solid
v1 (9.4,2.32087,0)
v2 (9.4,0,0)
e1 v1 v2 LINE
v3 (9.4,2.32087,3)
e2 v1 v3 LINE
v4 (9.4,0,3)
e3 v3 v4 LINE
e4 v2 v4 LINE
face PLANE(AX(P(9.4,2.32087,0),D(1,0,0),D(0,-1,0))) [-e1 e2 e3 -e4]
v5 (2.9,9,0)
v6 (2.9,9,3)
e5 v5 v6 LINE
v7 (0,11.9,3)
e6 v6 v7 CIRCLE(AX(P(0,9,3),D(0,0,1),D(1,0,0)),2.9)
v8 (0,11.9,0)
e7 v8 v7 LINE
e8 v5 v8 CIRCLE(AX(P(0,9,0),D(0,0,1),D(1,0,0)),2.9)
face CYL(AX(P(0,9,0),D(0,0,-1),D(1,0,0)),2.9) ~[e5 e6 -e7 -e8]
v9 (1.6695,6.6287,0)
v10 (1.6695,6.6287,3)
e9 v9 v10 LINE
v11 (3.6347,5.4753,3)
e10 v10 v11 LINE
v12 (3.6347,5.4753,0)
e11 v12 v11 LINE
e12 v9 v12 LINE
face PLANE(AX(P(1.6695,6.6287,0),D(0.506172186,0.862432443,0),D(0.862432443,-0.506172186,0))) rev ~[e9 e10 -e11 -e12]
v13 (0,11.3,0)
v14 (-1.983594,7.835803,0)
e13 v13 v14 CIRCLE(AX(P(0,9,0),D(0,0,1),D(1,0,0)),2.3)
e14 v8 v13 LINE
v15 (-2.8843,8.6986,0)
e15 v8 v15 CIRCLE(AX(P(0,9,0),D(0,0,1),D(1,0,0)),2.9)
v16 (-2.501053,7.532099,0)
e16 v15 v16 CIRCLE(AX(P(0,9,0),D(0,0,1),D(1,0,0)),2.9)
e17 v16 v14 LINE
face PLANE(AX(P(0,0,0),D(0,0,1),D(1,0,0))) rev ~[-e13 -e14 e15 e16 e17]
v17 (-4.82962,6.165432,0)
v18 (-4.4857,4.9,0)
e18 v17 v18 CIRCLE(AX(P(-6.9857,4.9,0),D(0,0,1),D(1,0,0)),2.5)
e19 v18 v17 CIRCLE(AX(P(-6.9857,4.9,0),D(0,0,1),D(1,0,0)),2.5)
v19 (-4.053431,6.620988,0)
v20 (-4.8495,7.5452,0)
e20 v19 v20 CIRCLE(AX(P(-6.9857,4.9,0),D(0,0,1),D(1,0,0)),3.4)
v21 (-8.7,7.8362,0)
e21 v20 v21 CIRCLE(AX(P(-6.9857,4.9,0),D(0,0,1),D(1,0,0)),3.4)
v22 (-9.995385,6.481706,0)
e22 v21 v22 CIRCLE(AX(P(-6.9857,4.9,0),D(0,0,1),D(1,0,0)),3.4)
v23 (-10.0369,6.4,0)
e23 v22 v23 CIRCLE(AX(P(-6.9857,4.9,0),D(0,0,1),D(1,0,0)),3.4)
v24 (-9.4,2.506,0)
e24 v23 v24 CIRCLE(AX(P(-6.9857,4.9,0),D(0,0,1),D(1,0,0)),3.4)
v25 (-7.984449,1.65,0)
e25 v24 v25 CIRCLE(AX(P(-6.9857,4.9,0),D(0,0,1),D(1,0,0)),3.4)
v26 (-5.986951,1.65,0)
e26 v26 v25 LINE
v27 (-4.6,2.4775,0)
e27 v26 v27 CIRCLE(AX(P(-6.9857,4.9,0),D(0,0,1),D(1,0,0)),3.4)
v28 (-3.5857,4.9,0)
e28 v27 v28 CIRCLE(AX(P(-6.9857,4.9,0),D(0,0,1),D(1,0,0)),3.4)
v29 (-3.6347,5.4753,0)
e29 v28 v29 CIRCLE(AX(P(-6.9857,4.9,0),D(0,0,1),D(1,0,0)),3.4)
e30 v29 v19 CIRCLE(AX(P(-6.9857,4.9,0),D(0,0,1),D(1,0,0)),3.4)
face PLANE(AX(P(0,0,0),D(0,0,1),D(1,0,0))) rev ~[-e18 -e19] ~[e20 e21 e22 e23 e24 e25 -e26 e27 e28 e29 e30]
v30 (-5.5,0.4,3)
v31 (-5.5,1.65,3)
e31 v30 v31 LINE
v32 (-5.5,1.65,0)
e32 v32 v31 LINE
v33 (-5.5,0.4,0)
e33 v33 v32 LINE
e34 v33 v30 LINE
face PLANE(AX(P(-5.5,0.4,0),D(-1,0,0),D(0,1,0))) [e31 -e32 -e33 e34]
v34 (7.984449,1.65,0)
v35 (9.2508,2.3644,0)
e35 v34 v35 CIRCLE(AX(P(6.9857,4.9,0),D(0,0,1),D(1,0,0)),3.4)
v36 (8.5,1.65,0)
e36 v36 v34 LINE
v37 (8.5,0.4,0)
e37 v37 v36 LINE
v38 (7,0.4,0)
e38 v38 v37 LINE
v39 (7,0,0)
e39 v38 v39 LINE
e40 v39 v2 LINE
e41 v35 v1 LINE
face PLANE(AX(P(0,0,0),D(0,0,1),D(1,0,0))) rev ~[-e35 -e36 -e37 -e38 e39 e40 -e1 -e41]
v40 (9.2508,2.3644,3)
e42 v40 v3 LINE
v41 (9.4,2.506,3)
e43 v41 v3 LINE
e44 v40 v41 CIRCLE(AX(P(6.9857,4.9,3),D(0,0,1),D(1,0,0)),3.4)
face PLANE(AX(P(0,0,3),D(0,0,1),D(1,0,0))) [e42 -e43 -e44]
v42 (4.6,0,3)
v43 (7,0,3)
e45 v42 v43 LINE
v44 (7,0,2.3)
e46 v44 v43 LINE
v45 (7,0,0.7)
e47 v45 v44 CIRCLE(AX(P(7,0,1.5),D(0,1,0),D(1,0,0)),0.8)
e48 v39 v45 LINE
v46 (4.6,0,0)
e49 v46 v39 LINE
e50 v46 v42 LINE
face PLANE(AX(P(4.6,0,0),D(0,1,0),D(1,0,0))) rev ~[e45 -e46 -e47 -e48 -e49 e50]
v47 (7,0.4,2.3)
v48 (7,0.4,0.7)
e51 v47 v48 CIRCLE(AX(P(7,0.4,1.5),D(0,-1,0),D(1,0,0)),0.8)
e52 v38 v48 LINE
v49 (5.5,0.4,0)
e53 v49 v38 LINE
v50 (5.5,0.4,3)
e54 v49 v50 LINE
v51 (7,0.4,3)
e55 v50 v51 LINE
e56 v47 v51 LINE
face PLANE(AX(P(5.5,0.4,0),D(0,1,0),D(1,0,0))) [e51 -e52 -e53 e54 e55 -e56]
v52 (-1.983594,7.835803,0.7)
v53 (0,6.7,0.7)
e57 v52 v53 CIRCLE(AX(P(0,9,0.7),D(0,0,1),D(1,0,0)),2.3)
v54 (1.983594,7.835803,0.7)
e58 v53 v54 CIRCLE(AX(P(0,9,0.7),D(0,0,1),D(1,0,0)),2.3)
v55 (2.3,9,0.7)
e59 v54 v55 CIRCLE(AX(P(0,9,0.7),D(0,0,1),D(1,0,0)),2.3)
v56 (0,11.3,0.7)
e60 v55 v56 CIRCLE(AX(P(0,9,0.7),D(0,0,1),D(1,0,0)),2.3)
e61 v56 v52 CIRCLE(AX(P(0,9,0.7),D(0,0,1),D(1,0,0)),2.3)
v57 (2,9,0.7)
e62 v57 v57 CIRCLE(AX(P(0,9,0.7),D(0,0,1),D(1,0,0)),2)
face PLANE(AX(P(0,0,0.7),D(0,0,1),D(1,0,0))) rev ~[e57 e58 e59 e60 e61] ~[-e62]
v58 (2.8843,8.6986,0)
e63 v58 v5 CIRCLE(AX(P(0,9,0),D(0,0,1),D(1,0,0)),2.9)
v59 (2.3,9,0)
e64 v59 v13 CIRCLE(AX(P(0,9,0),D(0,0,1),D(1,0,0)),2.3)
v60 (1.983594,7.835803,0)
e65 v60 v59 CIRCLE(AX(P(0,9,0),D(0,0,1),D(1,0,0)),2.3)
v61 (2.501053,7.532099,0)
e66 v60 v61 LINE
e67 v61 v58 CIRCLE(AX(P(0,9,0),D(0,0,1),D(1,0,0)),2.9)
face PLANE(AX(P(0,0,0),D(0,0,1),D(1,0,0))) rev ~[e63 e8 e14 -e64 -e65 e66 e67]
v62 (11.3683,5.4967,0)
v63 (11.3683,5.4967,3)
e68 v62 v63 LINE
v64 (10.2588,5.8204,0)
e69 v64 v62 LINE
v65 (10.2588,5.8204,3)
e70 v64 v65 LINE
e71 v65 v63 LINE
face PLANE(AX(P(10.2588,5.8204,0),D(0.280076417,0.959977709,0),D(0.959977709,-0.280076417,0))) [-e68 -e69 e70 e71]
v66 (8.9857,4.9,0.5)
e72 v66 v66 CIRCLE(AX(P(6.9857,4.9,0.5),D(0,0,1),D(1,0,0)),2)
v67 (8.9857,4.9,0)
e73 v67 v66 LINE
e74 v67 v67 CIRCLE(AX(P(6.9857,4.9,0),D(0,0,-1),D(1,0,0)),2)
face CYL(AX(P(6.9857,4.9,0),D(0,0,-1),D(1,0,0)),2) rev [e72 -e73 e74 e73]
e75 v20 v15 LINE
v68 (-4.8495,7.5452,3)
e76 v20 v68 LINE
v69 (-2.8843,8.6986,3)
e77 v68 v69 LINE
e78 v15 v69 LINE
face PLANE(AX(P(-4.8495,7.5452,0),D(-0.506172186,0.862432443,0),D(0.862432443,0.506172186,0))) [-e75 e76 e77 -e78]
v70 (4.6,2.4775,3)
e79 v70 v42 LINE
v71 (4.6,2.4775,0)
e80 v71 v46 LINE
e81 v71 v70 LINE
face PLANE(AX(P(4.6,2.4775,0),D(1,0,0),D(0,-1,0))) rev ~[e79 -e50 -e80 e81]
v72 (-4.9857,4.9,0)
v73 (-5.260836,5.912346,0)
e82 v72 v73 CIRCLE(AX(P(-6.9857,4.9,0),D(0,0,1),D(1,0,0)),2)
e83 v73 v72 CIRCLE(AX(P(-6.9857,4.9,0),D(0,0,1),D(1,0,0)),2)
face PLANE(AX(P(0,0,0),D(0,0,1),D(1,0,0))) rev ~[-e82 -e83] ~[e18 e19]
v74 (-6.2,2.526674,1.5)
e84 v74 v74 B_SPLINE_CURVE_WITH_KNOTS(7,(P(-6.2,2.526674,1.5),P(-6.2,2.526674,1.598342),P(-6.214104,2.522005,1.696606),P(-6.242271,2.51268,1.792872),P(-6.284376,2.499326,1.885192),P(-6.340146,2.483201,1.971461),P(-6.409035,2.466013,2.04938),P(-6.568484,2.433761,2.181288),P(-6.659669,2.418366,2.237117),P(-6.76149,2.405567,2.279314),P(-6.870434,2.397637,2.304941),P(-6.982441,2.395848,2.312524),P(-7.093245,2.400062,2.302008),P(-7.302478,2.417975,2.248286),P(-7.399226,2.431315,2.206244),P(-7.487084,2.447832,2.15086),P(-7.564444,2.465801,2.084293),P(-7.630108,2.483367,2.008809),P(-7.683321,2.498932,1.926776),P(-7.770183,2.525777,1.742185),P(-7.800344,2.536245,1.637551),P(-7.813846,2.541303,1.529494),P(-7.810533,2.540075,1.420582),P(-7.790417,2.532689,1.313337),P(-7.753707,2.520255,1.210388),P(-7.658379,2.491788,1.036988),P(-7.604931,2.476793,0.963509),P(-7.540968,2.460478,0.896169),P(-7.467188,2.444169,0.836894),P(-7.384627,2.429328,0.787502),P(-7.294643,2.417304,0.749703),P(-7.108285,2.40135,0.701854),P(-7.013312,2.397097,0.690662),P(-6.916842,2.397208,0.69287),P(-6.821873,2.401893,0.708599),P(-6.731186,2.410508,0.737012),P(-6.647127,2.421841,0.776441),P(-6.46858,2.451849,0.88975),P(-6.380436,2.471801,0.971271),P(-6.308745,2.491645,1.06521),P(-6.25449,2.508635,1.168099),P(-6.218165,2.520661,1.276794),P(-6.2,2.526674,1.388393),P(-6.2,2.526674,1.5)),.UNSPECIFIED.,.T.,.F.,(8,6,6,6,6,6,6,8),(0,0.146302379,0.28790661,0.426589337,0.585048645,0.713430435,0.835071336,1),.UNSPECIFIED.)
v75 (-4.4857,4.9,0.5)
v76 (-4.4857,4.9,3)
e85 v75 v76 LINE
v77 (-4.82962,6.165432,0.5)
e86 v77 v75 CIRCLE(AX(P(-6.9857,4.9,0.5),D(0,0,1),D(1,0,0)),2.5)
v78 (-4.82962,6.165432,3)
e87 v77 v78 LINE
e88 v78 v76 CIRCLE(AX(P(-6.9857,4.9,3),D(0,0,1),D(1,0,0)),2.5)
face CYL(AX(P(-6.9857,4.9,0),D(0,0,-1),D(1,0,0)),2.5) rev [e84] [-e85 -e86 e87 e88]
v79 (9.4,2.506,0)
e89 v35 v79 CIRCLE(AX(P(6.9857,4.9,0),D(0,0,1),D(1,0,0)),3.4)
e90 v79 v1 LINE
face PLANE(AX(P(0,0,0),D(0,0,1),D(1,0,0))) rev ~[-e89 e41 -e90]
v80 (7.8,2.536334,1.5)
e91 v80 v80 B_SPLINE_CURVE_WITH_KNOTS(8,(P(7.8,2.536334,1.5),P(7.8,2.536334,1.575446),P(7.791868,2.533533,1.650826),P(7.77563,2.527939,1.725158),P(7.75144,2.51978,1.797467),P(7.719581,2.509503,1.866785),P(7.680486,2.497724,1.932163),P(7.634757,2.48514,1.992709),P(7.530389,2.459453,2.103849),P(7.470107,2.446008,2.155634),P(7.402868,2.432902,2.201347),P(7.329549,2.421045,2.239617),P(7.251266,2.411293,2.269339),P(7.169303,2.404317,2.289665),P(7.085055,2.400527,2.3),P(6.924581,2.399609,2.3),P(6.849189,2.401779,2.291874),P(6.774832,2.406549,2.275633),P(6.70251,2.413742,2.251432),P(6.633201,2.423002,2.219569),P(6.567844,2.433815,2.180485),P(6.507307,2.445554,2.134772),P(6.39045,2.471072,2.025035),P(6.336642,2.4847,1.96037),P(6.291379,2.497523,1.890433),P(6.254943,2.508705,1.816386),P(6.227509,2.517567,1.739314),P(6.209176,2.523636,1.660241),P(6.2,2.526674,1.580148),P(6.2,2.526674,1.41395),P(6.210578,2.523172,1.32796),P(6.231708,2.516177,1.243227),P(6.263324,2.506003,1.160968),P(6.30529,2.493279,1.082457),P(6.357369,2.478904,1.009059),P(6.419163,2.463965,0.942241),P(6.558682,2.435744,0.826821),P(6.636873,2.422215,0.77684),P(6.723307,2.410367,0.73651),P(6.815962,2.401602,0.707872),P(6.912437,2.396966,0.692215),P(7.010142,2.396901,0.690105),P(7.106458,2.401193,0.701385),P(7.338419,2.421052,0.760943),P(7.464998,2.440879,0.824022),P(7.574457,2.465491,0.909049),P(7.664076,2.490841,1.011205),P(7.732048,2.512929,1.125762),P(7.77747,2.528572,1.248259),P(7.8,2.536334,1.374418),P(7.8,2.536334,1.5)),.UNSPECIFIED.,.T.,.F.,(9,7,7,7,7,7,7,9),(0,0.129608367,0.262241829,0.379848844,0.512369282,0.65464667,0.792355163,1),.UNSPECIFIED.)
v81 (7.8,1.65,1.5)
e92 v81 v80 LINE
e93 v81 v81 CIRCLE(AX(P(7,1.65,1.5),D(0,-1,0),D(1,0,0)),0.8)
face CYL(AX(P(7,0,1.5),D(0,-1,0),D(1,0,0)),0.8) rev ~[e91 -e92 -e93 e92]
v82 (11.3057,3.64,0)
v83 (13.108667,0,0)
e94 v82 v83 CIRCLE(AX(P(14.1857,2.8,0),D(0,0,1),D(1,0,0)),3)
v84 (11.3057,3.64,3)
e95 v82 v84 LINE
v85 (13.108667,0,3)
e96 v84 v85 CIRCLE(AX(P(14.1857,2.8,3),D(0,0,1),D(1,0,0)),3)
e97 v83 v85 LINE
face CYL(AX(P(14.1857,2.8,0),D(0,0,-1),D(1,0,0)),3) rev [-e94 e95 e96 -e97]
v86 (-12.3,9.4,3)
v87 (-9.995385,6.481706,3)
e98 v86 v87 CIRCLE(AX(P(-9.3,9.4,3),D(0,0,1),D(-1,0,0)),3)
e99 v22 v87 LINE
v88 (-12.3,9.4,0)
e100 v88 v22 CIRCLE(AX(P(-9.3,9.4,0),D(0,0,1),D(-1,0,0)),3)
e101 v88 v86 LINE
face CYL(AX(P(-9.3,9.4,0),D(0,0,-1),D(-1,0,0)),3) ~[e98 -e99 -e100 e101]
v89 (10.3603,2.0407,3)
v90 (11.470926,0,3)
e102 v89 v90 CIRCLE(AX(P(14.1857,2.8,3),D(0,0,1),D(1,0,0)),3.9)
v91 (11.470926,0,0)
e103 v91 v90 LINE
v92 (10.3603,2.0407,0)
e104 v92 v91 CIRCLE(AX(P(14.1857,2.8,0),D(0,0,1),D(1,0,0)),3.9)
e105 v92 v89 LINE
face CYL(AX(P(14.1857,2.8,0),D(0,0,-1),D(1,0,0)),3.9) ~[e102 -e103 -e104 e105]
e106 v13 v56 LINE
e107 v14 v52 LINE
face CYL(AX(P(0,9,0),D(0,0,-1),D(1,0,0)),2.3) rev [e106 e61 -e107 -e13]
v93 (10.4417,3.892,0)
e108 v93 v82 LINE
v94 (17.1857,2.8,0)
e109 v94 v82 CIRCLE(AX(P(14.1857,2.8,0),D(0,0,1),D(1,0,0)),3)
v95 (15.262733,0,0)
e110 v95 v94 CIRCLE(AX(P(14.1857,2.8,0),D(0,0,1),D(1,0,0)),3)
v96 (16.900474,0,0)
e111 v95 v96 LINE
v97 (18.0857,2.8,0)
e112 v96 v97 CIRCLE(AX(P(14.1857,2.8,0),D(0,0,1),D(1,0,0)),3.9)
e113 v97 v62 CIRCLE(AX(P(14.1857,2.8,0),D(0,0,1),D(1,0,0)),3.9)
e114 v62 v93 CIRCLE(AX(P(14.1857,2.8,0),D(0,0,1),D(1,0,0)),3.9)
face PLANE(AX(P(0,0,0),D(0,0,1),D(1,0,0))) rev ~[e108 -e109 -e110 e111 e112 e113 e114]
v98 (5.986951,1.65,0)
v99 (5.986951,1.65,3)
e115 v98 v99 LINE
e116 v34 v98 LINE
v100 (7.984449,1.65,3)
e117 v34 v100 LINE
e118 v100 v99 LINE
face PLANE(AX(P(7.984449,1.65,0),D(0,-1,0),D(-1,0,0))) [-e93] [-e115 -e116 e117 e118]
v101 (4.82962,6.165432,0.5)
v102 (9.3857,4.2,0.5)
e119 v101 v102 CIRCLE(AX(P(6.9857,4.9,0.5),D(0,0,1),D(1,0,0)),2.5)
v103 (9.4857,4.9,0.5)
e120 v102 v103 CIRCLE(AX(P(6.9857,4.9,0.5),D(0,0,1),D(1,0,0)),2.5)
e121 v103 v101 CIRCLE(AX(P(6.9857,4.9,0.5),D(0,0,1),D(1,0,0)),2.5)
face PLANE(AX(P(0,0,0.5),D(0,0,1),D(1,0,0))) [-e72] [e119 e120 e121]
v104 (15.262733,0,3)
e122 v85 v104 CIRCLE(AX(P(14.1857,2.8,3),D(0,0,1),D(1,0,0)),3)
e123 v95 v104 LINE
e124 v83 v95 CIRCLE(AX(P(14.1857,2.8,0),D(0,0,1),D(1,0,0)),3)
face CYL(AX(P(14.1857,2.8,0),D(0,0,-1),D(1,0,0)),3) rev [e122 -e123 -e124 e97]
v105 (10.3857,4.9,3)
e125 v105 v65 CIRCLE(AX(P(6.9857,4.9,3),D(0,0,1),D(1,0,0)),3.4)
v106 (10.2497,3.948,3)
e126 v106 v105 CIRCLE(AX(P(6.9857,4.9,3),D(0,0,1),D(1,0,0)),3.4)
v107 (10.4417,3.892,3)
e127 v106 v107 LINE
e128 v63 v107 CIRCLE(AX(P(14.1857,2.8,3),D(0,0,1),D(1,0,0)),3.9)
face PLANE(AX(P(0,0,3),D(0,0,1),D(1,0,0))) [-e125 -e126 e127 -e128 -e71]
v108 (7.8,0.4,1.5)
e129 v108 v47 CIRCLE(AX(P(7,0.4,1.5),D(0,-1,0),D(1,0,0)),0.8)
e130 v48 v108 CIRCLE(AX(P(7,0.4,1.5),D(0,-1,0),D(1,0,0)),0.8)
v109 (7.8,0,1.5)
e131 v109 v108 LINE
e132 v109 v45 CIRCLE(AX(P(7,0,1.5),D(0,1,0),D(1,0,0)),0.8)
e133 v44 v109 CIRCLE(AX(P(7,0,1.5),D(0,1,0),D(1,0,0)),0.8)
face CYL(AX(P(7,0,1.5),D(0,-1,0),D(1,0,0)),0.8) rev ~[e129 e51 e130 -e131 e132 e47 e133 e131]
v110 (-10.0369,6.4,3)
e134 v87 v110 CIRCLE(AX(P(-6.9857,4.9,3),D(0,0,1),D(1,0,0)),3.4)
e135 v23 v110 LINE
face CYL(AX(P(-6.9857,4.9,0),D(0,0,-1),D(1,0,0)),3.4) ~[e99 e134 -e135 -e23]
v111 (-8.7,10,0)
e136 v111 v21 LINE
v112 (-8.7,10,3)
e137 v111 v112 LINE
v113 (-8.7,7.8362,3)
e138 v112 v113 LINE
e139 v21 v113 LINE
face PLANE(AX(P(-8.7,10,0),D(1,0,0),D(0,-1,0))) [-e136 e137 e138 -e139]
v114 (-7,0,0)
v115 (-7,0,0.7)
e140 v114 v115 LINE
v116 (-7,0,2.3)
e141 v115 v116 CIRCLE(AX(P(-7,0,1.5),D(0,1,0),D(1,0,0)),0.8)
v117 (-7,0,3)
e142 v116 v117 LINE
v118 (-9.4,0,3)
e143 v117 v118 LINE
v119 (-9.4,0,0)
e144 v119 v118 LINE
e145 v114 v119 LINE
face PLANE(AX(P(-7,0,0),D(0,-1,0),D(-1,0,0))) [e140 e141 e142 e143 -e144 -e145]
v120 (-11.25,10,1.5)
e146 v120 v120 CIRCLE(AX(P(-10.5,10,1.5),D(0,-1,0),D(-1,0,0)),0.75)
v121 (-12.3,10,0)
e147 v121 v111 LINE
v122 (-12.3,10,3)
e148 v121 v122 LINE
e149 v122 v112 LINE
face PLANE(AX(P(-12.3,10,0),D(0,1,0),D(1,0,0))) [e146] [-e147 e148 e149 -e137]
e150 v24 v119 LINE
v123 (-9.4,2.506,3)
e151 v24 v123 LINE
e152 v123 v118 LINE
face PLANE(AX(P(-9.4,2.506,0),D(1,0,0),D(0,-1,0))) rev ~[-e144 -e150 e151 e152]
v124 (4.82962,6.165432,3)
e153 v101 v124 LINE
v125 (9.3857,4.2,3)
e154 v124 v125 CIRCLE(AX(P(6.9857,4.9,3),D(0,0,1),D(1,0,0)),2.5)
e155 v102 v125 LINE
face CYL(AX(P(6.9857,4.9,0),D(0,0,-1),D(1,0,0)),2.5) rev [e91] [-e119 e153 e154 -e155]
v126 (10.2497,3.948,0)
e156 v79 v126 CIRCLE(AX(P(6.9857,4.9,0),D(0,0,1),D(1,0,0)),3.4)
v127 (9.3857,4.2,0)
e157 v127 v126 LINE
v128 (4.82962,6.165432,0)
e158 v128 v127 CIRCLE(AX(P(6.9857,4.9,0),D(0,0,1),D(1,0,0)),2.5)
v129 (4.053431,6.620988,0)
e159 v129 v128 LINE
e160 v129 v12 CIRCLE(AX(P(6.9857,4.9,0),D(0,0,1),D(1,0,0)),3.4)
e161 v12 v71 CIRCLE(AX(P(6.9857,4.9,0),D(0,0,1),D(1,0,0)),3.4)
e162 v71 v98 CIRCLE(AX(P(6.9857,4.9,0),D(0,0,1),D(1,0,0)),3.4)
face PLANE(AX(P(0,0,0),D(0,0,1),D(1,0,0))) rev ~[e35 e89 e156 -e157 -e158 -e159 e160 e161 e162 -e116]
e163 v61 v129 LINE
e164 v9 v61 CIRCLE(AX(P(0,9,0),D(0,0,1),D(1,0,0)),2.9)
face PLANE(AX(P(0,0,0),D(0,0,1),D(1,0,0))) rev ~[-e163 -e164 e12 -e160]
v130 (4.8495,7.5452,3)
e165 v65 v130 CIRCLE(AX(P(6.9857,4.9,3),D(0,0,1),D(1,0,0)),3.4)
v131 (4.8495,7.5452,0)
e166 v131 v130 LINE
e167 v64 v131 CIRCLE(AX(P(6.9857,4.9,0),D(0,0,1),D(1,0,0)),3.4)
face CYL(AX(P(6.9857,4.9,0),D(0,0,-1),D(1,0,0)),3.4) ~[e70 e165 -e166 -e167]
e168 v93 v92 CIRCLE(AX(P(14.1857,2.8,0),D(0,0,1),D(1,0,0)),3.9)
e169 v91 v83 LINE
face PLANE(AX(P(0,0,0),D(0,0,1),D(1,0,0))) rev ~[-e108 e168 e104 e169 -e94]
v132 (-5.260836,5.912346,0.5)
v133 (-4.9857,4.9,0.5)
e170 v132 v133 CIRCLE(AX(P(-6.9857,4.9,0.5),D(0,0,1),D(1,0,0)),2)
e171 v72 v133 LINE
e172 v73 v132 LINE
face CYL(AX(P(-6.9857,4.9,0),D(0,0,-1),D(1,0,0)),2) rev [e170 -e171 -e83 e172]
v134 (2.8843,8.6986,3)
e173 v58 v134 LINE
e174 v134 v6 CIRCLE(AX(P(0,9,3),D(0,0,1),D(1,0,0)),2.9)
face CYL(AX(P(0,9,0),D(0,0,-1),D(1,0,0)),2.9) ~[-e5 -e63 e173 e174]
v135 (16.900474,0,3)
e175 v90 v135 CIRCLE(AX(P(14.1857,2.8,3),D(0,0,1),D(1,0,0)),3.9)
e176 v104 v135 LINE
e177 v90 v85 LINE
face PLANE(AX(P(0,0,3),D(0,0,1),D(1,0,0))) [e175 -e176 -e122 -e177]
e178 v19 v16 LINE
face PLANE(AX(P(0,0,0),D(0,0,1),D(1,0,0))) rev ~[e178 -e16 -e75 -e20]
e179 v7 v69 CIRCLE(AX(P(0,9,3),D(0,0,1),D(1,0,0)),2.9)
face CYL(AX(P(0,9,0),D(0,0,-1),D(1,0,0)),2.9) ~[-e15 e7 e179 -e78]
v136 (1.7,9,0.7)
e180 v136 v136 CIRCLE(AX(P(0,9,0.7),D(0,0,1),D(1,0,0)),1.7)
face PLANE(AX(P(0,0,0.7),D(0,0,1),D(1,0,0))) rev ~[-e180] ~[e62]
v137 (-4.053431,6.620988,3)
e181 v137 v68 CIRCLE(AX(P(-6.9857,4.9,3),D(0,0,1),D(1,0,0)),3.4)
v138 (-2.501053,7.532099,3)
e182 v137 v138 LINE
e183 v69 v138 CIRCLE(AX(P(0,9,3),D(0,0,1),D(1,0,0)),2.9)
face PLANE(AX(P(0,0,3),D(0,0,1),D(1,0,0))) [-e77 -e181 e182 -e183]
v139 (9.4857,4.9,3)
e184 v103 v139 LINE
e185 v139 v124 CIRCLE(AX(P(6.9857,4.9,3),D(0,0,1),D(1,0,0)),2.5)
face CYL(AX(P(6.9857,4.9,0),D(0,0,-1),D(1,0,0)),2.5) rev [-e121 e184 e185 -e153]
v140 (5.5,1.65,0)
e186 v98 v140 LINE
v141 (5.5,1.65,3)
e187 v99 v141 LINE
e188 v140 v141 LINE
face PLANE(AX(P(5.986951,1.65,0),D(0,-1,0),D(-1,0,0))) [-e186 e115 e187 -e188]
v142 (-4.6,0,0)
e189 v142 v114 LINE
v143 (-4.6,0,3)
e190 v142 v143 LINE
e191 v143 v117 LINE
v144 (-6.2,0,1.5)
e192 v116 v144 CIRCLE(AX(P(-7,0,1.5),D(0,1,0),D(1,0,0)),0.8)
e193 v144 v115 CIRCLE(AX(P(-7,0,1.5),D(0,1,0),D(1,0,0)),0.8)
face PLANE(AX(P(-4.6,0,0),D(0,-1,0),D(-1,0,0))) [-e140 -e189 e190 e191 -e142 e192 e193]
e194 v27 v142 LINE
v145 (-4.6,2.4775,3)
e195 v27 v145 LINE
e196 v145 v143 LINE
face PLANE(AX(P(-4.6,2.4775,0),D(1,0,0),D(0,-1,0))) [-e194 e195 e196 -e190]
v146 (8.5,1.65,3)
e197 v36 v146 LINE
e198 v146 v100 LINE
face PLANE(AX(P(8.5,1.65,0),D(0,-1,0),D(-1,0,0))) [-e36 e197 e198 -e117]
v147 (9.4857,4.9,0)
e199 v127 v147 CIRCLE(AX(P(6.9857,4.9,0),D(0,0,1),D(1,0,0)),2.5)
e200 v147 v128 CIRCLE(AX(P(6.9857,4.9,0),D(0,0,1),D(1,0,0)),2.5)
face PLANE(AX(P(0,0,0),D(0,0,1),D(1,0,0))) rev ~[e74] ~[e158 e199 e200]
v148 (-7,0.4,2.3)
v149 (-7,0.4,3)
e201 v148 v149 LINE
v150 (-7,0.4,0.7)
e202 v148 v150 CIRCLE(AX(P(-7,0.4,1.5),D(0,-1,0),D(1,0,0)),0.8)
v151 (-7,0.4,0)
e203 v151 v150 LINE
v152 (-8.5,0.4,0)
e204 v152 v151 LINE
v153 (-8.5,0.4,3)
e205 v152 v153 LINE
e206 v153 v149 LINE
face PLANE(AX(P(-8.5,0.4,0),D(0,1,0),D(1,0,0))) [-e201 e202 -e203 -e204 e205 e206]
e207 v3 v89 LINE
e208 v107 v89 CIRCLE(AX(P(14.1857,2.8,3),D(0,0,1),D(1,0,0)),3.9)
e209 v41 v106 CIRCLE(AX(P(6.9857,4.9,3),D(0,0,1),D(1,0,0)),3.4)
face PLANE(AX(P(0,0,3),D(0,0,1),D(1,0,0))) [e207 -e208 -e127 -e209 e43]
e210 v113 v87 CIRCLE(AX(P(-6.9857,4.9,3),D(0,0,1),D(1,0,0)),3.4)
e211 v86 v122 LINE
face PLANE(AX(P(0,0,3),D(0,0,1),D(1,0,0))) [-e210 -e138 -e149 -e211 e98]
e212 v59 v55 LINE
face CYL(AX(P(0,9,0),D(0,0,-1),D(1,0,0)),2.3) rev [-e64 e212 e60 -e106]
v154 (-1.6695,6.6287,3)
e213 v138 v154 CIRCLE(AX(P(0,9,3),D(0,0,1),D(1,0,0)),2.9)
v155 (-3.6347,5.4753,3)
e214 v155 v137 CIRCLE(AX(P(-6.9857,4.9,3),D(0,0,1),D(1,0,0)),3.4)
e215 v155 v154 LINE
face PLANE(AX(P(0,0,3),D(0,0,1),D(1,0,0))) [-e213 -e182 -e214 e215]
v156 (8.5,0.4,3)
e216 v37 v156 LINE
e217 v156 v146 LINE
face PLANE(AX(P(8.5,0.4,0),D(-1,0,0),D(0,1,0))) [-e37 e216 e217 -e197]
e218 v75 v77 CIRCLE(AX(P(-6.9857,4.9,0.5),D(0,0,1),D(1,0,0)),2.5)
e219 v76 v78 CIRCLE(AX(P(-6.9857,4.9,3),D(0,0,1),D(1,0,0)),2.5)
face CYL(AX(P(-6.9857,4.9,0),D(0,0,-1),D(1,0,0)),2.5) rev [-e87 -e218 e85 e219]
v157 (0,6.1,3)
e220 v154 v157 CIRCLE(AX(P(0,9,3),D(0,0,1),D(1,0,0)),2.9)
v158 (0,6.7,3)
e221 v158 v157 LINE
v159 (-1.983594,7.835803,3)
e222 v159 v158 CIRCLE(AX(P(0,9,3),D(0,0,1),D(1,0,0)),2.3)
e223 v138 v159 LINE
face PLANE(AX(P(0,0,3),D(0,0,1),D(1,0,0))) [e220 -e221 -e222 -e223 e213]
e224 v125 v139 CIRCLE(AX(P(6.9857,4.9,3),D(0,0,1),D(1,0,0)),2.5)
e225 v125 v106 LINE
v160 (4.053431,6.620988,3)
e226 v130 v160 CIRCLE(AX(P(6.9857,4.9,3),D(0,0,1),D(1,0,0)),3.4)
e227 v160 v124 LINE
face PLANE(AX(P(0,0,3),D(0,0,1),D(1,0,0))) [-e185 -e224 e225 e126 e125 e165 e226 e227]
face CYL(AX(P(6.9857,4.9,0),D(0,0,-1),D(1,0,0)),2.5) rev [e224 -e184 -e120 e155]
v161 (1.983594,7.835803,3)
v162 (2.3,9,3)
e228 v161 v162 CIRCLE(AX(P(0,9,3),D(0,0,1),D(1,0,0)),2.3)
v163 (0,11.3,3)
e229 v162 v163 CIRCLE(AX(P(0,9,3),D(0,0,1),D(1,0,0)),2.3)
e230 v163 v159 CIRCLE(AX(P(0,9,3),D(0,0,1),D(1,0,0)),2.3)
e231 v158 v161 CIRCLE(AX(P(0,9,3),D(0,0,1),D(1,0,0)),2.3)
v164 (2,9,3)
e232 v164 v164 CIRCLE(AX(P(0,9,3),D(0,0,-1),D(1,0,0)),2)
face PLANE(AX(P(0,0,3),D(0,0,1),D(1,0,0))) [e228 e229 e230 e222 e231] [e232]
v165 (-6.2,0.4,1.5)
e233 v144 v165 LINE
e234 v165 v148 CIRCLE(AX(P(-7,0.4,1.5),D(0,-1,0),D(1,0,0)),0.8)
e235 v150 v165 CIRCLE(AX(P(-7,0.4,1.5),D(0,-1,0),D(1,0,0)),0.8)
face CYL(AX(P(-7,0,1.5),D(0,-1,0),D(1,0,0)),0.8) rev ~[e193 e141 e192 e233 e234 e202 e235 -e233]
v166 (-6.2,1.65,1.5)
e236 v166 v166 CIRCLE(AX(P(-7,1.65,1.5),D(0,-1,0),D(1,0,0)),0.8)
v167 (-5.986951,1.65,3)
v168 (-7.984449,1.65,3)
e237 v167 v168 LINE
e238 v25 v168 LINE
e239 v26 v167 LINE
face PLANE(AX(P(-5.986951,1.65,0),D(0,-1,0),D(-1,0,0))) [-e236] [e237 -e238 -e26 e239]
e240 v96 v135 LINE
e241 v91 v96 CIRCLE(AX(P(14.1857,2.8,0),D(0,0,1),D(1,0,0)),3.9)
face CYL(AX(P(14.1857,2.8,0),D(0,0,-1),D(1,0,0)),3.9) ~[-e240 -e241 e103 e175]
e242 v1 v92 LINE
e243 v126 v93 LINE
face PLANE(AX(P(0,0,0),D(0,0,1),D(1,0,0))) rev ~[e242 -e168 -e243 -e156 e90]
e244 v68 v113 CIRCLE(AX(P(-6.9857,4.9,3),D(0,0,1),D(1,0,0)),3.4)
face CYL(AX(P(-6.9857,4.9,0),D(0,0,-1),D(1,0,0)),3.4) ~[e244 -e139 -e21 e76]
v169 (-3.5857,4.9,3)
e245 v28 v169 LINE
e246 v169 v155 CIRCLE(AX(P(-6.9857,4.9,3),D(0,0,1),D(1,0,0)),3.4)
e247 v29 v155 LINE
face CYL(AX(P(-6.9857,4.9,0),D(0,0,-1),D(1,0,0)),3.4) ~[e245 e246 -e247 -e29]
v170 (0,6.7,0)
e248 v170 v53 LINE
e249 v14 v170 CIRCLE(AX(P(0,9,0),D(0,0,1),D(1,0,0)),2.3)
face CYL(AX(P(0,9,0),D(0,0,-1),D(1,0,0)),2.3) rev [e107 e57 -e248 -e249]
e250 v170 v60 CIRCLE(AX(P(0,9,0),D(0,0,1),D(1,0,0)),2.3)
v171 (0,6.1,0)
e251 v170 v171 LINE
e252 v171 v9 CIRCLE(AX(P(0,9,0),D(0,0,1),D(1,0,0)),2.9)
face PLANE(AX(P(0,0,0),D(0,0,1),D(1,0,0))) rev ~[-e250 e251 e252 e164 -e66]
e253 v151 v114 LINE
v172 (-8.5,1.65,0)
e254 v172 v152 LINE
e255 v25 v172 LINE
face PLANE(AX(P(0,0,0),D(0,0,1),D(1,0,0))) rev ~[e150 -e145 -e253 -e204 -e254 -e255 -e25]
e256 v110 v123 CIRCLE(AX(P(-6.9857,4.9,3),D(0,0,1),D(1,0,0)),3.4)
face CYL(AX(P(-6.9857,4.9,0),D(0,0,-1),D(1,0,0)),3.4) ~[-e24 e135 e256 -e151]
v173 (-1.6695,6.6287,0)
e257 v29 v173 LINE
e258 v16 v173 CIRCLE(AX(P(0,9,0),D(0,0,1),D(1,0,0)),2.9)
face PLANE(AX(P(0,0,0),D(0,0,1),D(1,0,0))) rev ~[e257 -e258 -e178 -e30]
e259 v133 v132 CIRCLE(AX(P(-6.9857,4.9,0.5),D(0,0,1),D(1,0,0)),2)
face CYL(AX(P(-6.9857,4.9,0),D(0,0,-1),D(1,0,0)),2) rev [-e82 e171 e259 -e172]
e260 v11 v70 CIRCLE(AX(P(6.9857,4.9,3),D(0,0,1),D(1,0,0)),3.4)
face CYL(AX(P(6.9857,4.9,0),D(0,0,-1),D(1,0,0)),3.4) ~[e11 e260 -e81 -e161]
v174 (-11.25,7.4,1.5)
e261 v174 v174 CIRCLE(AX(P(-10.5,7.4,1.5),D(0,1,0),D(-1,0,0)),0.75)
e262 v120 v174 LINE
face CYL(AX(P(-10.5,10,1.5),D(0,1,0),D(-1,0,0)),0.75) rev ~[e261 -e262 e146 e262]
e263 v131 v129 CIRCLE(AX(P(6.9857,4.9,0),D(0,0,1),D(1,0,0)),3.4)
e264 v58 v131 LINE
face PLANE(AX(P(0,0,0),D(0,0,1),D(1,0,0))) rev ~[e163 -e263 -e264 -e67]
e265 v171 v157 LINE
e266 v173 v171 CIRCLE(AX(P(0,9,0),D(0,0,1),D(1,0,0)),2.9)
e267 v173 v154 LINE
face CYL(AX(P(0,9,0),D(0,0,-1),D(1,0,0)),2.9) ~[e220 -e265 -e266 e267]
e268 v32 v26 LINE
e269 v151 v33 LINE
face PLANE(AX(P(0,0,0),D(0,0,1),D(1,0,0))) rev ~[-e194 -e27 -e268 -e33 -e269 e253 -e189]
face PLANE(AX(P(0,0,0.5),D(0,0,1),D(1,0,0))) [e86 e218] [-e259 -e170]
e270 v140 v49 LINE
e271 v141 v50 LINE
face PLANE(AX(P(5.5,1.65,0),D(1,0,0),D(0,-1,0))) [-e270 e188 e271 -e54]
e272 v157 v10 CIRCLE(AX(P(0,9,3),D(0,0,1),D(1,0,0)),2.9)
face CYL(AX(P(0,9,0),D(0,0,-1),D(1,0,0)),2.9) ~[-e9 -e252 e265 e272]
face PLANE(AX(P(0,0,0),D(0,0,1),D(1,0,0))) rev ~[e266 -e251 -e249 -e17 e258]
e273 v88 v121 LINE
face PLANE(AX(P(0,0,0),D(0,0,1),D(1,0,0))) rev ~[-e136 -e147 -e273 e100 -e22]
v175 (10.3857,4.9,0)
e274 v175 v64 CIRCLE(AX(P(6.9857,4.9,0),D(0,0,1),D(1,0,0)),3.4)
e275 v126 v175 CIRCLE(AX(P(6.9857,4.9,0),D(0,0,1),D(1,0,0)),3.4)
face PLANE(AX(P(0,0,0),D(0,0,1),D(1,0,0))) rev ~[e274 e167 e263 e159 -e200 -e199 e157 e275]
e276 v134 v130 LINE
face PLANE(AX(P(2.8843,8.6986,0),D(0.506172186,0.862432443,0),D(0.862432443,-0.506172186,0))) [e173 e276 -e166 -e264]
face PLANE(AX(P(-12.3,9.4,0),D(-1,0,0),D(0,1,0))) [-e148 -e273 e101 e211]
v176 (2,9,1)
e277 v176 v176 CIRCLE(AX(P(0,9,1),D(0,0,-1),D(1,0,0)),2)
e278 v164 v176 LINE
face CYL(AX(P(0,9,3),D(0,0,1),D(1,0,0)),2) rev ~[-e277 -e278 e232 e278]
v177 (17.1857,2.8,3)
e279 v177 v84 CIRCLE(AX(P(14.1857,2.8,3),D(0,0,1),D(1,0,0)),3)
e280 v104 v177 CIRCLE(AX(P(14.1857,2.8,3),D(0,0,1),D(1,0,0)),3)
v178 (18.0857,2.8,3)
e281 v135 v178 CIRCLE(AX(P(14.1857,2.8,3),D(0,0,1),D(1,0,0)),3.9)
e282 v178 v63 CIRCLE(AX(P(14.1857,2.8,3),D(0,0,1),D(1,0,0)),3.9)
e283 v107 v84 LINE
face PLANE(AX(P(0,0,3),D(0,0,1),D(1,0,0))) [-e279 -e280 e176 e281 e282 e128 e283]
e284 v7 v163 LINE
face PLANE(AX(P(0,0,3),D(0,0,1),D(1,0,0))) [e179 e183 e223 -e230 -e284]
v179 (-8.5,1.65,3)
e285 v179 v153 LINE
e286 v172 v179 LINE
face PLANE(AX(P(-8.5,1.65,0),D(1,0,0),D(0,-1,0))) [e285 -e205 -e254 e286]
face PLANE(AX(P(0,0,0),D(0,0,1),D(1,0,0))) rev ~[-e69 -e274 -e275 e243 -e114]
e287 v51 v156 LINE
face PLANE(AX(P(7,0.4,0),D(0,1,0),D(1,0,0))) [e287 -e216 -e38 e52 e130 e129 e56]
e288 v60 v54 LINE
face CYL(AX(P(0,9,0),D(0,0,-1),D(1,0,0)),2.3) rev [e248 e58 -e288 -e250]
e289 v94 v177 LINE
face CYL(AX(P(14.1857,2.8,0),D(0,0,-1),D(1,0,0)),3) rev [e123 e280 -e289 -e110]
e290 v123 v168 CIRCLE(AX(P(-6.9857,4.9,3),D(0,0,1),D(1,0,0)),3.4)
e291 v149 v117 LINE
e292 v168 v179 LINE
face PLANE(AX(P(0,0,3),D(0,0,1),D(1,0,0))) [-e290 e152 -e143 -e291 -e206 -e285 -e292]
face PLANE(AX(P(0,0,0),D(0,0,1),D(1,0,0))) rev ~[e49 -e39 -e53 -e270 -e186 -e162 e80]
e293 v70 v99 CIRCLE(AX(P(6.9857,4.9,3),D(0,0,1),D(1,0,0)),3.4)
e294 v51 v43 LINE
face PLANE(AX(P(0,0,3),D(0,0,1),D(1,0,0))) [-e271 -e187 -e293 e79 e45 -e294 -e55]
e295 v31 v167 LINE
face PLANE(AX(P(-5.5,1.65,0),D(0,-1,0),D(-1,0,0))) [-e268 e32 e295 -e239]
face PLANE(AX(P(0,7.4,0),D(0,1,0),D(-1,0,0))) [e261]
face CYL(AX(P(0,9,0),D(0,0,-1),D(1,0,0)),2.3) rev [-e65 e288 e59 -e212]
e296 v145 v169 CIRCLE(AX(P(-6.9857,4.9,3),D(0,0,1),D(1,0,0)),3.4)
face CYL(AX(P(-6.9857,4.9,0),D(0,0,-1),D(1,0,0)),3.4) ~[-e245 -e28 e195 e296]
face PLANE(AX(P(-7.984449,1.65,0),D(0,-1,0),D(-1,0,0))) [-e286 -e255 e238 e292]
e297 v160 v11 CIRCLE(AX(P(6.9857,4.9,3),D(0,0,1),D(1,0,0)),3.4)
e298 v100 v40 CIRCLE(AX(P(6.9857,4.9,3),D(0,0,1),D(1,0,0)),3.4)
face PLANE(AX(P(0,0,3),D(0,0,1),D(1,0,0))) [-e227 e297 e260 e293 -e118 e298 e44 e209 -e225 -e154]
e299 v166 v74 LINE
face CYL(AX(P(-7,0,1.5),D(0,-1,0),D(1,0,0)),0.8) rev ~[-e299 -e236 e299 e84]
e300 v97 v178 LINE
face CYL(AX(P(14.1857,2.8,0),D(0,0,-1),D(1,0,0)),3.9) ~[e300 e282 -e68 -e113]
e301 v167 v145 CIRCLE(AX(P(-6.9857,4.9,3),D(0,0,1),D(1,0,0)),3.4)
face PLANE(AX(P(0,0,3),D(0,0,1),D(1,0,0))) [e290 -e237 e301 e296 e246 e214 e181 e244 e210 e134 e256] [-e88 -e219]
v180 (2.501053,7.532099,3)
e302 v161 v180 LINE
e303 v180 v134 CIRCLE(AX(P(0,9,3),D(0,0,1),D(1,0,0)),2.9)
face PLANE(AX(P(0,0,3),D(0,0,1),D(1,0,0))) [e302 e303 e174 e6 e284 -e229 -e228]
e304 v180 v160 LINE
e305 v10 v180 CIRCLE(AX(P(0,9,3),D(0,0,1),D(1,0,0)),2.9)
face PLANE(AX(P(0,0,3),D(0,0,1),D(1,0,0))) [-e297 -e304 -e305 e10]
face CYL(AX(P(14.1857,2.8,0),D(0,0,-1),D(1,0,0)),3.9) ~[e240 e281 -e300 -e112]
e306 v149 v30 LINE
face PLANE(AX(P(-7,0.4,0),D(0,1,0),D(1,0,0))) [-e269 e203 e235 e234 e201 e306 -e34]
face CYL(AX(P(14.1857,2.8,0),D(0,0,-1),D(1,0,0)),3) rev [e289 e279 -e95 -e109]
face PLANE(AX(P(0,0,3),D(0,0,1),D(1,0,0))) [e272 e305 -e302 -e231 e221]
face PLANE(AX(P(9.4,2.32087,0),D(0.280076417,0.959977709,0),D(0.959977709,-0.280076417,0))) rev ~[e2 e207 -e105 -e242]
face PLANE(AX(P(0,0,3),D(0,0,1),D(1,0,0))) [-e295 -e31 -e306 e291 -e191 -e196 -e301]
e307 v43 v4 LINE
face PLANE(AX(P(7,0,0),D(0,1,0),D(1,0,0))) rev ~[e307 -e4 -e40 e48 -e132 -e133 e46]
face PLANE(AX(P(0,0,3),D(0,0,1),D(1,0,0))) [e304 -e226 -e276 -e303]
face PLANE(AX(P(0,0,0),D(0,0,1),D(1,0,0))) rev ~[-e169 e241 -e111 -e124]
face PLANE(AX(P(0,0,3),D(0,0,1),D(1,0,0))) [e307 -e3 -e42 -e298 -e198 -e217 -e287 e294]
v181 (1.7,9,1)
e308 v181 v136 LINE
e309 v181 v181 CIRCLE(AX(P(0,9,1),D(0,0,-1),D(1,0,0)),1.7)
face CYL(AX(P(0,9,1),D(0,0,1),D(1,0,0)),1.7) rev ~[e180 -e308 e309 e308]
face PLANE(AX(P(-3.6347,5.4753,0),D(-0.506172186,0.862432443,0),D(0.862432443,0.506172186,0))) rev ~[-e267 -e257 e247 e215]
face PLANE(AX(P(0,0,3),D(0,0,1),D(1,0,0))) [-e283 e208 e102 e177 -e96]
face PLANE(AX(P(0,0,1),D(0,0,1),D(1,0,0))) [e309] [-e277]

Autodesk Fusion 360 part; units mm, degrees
sketch "スケッチ1" plane through (0, 0, 0) normal (0, 0, 1) x (1, 0, 0)
  line L0 (0, 0) -> (18.0857, 0)
  line L1 (18.0857, 0) -> (18.0857, 13.2439)
  line L2 (18.0857, 13.2439) -> (0, 13.2439)
  line L3 (0, 13.2439) -> (0, 0)
  line L4 (0, 0) -> (-13.9996, 0)
  line L5 (-13.9996, 0) -> (-13.9996, 13.2439)
  line L6 (-13.9996, 13.2439) -> (0, 13.2439)
  line L7 (0, 13.2439) -> (0, 0)
  circle A0 centre (-6.9857, 4.9) radius 2
  circle A1 centre (6.9857, 4.9) radius 2
  circle A2 centre (0, 9) radius 2
  circle A3 centre (14.1857, 2.8) radius 3
  circle A4 centre (-6.9857, 4.9) radius 2.5
  circle A5 centre (6.9857, 4.9) radius 2.5
  circle A6 centre (0, 9) radius 2.3
  circle A7 centre (0, 9) radius 1.7
  line L8 (-7, 1.5) -> (-7, 0)
  line L9 (7, 1.5) -> (7, 0)
  circle A8 centre (-6.9857, 4.9) radius 3.4
  circle A9 centre (0, 9) radius 2.9
  line L10 (-6.9857, 4.9) -> (0, 9)
  line L11 (0, 9) -> (6.9857, 4.9)
  line L12 (6.9857, 4.9) -> (14.1857, 2.8)
  circle A10 centre (6.9857, 4.9) radius 3.4
  circle A11 centre (14.1857, 2.8) radius 3.9
  line L13 (-4.6, 2.4775) -> (-4.6, 0)
  line L14 (4.6, 2.4775) -> (4.6, 0)
  line L15 (-9.4, 2.506) -> (-9.4, 0)
  line L16 (9.4, 2.506) -> (9.4, 0)
  line L17 (-3.6347, 5.4753) -> (-1.6695, 6.6287)
  line L18 (1.6695, 6.6287) -> (3.6347, 5.4753)
  line L19 (-4.8495, 7.5452) -> (-2.8843, 8.6986)
  line L20 (2.8843, 8.6986) -> (4.8495, 7.5452)
  line L21 (10.2588, 5.8204) -> (11.3683, 5.4967)
  line L22 (9.2508, 2.3644) -> (10.3603, 2.0407)
  line L23 (0, 0) -> (18.0857, 0)
  line L24 (18.0857, 0) -> (18.0857, -2.0683)
  line L25 (18.0857, -2.0683) -> (0, -2.0683)
  line L26 (-13.9996, 0) -> (0, 0)
  line L27 (0, -2.0683) -> (-13.9996, -2.0683)
  line L28 (-13.9996, -2.0683) -> (-13.9996, 0)
  line L29 (-12.3, 6.4) -> (-12.3, 10)
  line L30 (-12.3, 10) -> (-8.7, 10)
  line L31 (-8.7, 10) -> (-8.7, 7.8362)
  line L32 (-12.3, 6.4) -> (-10.0369, 6.4)
  line L33 (-5.5, 1.65) -> (-8.5, 1.65)
  line L34 (-8.5, 1.65) -> (-8.5, 0.4)
  line L35 (-8.5, 0.4) -> (-5.5, 0.4)
  line L36 (-5.5, 0.4) -> (-5.5, 1.65)
  line L37 (-5.5, 1.65) -> (-8.5, 0.4) construction
  line L38 (-8.5, 1.65) -> (-5.5, 0.4) construction
  line L39 (8.5, 1.65) -> (5.5, 1.65)
  line L40 (5.5, 1.65) -> (5.5, 0.4)
  line L41 (5.5, 0.4) -> (8.5, 0.4)
  line L42 (8.5, 0.4) -> (8.5, 1.65)
  line L43 (8.5, 1.65) -> (5.5, 0.4) construction
  line L44 (5.5, 1.65) -> (8.5, 0.4) construction
  arc A12 (-12.3, 9.4) -> (-9.3, 6.4) centre (-9.3, 9.4) ccw
  point P0 (-7, 1.5)
  point P1 (7, 1.5)
  point P2 (-10.5, 10)
  point P3 (-7, 1.025)
  point P4 (7, 1.025)
  dimension "d4" = 4
  dimension "d5" = 4.9
  dimension "d6" = 8.1
  dimension "d7" = 4
  dimension "d10" = 6
  dimension "d16" = 2.8
  dimension "d18" = 9
  dimension "d19" = 5
  dimension "d21" = 7.5
  dimension "d26" = 4.6
  dimension "d34" = 3.4
  dimension "d41" = 7
  dimension "d45" = 5.8
  dimension "d51" = 1.2
  dimension "d52" = 4.8
  dimension "d54" = 1.8
  dimension "d57" = 6.8
  dimension "d76" = 7.8
  dimension "d86" = 10.5
  dimension "d87" = 3.6
  dimension "d88" = 10
  dimension "d92" = 3
  dimension "d93" = 0.4
  dimension "d94" = 1.25
  dimension "d96" = 3.6
  dimension "d97" = 3
extrude "押し出し1" add sketch "スケッチ1" along normal blind 3 contours L0 L9 A10 L14 L23 L39 L40 L41 | L3 L7 A6 A9 L10 | L3 L7 A6 A9 L11 | L4 L8 A8 L13 L26 L33 L35 L36 | L0 L9 A10 L16 L22 L23 L39 L41 L42 | A5 L11 L12 A10 L39 | A8 A9 L10 L17 | A9 L11 A10 L18 | L4 L8 A8 L15 L26 L33 L34 L35 | A8 L33 | L3 L7 A6 A9 L10 | L3 L7 A6 A9 L11 | A8 A9 L10 L19 | A9 L11 A10 L20 | L0 A3 L12 A11 L23 | L0 A3 A11 L23 | A10 L16 L22 | L12 A10 A11 L16 L22 | A5 L11 L12 A10 | L0 A3 L12 A11 L23 | L12 A10 A11 L21 | A8 L29 L30 L31 A12 picked at (-7.0288, 1.9011)
extrude "押し出し2" add sketch "スケッチ1" along normal blind 0.5 contours A4 | A1 A5 L11 L12 | A1 A5 L11 L12
extrude "押し出し5" add sketch "スケッチ1" against normal blind 2.3 from surface at 3 contours L3 L7 A2 A6 L10 | L3 L7 A2 A6 L11 | L3 L7 A2 A6 L10 | L3 L7 A2 A6 L11
sketch "スケッチ2" plane through (0, 0, 0) normal (0, -1, 0) x (1, 0, 0)
  line L0 (-7, 0) -> (-7, 3)
  line L1 (7, 0) -> (7, 3)
  circle A0 centre (-7, 1.5) radius 0.8
  circle A1 centre (7, 1.5) radius 0.8
  line L2 (9.4, 0) -> (9.4, 3)
  line L3 (4.6, 3) -> (4.6, 0)
  line L4 (-4.6, 3) -> (-9.4, 3)
  line L5 (4.6, 0) -> (9.4, 0)
  line L6 (-4.6, 0) -> (-4.6, 3)
  line L7 (-9.4, 3) -> (-9.4, 0)
  line L8 (9.4, 3) -> (4.6, 3)
  line L9 (-9.4, 0) -> (-4.6, 0)
  point P0 (7, 0)
  dimension "d42" = 1.6
extrude "押し出し7" cut sketch "スケッチ2" against normal blind 3 contours L0 A0 | L0 A0 | L1 A1 | L1 A1
extrude "押し出し8" add sketch "スケッチ1" against normal blind 0.3 from surface at 1 contours L3 L7 A2 A7 L10 | L3 L7 A2 A7 L11 | L3 L7 A2 A7 L10 | L3 L7 A2 A7 L11
sketch "スケッチ6" plane through (0, 10, 0) normal (0, 1, 0) x (-1, 0, 0)
  line L0 (8.7, 0) -> (12.3, 0)
  line L1 (12.3, 0) -> (12.3, 3)
  line L2 (12.3, 3) -> (8.7, 3)
  line L3 (8.7, 3) -> (8.7, 0)
  line L4 (10.5, 3) -> (10.5, 0)
  circle A0 centre (10.5, 1.5) radius 0.75
  dimension "d89" = 1.5
extrude "押し出し12" cut sketch "スケッチ6" against normal blind 2.6 contours L4 A0 | L4 A0
equation "d5 = 6.5 mm - 0.6 mm - 1.0 mm"
equation "d6 = 6 mm + 2.0 mm + 0.1 mm"
equation "d16 = ( 7.8 / 2 ) * 1 mm - 0.6 mm - 0.5 mm"
equation "d21 = 6 mm + 1.4 mm + 0.1 mm"
